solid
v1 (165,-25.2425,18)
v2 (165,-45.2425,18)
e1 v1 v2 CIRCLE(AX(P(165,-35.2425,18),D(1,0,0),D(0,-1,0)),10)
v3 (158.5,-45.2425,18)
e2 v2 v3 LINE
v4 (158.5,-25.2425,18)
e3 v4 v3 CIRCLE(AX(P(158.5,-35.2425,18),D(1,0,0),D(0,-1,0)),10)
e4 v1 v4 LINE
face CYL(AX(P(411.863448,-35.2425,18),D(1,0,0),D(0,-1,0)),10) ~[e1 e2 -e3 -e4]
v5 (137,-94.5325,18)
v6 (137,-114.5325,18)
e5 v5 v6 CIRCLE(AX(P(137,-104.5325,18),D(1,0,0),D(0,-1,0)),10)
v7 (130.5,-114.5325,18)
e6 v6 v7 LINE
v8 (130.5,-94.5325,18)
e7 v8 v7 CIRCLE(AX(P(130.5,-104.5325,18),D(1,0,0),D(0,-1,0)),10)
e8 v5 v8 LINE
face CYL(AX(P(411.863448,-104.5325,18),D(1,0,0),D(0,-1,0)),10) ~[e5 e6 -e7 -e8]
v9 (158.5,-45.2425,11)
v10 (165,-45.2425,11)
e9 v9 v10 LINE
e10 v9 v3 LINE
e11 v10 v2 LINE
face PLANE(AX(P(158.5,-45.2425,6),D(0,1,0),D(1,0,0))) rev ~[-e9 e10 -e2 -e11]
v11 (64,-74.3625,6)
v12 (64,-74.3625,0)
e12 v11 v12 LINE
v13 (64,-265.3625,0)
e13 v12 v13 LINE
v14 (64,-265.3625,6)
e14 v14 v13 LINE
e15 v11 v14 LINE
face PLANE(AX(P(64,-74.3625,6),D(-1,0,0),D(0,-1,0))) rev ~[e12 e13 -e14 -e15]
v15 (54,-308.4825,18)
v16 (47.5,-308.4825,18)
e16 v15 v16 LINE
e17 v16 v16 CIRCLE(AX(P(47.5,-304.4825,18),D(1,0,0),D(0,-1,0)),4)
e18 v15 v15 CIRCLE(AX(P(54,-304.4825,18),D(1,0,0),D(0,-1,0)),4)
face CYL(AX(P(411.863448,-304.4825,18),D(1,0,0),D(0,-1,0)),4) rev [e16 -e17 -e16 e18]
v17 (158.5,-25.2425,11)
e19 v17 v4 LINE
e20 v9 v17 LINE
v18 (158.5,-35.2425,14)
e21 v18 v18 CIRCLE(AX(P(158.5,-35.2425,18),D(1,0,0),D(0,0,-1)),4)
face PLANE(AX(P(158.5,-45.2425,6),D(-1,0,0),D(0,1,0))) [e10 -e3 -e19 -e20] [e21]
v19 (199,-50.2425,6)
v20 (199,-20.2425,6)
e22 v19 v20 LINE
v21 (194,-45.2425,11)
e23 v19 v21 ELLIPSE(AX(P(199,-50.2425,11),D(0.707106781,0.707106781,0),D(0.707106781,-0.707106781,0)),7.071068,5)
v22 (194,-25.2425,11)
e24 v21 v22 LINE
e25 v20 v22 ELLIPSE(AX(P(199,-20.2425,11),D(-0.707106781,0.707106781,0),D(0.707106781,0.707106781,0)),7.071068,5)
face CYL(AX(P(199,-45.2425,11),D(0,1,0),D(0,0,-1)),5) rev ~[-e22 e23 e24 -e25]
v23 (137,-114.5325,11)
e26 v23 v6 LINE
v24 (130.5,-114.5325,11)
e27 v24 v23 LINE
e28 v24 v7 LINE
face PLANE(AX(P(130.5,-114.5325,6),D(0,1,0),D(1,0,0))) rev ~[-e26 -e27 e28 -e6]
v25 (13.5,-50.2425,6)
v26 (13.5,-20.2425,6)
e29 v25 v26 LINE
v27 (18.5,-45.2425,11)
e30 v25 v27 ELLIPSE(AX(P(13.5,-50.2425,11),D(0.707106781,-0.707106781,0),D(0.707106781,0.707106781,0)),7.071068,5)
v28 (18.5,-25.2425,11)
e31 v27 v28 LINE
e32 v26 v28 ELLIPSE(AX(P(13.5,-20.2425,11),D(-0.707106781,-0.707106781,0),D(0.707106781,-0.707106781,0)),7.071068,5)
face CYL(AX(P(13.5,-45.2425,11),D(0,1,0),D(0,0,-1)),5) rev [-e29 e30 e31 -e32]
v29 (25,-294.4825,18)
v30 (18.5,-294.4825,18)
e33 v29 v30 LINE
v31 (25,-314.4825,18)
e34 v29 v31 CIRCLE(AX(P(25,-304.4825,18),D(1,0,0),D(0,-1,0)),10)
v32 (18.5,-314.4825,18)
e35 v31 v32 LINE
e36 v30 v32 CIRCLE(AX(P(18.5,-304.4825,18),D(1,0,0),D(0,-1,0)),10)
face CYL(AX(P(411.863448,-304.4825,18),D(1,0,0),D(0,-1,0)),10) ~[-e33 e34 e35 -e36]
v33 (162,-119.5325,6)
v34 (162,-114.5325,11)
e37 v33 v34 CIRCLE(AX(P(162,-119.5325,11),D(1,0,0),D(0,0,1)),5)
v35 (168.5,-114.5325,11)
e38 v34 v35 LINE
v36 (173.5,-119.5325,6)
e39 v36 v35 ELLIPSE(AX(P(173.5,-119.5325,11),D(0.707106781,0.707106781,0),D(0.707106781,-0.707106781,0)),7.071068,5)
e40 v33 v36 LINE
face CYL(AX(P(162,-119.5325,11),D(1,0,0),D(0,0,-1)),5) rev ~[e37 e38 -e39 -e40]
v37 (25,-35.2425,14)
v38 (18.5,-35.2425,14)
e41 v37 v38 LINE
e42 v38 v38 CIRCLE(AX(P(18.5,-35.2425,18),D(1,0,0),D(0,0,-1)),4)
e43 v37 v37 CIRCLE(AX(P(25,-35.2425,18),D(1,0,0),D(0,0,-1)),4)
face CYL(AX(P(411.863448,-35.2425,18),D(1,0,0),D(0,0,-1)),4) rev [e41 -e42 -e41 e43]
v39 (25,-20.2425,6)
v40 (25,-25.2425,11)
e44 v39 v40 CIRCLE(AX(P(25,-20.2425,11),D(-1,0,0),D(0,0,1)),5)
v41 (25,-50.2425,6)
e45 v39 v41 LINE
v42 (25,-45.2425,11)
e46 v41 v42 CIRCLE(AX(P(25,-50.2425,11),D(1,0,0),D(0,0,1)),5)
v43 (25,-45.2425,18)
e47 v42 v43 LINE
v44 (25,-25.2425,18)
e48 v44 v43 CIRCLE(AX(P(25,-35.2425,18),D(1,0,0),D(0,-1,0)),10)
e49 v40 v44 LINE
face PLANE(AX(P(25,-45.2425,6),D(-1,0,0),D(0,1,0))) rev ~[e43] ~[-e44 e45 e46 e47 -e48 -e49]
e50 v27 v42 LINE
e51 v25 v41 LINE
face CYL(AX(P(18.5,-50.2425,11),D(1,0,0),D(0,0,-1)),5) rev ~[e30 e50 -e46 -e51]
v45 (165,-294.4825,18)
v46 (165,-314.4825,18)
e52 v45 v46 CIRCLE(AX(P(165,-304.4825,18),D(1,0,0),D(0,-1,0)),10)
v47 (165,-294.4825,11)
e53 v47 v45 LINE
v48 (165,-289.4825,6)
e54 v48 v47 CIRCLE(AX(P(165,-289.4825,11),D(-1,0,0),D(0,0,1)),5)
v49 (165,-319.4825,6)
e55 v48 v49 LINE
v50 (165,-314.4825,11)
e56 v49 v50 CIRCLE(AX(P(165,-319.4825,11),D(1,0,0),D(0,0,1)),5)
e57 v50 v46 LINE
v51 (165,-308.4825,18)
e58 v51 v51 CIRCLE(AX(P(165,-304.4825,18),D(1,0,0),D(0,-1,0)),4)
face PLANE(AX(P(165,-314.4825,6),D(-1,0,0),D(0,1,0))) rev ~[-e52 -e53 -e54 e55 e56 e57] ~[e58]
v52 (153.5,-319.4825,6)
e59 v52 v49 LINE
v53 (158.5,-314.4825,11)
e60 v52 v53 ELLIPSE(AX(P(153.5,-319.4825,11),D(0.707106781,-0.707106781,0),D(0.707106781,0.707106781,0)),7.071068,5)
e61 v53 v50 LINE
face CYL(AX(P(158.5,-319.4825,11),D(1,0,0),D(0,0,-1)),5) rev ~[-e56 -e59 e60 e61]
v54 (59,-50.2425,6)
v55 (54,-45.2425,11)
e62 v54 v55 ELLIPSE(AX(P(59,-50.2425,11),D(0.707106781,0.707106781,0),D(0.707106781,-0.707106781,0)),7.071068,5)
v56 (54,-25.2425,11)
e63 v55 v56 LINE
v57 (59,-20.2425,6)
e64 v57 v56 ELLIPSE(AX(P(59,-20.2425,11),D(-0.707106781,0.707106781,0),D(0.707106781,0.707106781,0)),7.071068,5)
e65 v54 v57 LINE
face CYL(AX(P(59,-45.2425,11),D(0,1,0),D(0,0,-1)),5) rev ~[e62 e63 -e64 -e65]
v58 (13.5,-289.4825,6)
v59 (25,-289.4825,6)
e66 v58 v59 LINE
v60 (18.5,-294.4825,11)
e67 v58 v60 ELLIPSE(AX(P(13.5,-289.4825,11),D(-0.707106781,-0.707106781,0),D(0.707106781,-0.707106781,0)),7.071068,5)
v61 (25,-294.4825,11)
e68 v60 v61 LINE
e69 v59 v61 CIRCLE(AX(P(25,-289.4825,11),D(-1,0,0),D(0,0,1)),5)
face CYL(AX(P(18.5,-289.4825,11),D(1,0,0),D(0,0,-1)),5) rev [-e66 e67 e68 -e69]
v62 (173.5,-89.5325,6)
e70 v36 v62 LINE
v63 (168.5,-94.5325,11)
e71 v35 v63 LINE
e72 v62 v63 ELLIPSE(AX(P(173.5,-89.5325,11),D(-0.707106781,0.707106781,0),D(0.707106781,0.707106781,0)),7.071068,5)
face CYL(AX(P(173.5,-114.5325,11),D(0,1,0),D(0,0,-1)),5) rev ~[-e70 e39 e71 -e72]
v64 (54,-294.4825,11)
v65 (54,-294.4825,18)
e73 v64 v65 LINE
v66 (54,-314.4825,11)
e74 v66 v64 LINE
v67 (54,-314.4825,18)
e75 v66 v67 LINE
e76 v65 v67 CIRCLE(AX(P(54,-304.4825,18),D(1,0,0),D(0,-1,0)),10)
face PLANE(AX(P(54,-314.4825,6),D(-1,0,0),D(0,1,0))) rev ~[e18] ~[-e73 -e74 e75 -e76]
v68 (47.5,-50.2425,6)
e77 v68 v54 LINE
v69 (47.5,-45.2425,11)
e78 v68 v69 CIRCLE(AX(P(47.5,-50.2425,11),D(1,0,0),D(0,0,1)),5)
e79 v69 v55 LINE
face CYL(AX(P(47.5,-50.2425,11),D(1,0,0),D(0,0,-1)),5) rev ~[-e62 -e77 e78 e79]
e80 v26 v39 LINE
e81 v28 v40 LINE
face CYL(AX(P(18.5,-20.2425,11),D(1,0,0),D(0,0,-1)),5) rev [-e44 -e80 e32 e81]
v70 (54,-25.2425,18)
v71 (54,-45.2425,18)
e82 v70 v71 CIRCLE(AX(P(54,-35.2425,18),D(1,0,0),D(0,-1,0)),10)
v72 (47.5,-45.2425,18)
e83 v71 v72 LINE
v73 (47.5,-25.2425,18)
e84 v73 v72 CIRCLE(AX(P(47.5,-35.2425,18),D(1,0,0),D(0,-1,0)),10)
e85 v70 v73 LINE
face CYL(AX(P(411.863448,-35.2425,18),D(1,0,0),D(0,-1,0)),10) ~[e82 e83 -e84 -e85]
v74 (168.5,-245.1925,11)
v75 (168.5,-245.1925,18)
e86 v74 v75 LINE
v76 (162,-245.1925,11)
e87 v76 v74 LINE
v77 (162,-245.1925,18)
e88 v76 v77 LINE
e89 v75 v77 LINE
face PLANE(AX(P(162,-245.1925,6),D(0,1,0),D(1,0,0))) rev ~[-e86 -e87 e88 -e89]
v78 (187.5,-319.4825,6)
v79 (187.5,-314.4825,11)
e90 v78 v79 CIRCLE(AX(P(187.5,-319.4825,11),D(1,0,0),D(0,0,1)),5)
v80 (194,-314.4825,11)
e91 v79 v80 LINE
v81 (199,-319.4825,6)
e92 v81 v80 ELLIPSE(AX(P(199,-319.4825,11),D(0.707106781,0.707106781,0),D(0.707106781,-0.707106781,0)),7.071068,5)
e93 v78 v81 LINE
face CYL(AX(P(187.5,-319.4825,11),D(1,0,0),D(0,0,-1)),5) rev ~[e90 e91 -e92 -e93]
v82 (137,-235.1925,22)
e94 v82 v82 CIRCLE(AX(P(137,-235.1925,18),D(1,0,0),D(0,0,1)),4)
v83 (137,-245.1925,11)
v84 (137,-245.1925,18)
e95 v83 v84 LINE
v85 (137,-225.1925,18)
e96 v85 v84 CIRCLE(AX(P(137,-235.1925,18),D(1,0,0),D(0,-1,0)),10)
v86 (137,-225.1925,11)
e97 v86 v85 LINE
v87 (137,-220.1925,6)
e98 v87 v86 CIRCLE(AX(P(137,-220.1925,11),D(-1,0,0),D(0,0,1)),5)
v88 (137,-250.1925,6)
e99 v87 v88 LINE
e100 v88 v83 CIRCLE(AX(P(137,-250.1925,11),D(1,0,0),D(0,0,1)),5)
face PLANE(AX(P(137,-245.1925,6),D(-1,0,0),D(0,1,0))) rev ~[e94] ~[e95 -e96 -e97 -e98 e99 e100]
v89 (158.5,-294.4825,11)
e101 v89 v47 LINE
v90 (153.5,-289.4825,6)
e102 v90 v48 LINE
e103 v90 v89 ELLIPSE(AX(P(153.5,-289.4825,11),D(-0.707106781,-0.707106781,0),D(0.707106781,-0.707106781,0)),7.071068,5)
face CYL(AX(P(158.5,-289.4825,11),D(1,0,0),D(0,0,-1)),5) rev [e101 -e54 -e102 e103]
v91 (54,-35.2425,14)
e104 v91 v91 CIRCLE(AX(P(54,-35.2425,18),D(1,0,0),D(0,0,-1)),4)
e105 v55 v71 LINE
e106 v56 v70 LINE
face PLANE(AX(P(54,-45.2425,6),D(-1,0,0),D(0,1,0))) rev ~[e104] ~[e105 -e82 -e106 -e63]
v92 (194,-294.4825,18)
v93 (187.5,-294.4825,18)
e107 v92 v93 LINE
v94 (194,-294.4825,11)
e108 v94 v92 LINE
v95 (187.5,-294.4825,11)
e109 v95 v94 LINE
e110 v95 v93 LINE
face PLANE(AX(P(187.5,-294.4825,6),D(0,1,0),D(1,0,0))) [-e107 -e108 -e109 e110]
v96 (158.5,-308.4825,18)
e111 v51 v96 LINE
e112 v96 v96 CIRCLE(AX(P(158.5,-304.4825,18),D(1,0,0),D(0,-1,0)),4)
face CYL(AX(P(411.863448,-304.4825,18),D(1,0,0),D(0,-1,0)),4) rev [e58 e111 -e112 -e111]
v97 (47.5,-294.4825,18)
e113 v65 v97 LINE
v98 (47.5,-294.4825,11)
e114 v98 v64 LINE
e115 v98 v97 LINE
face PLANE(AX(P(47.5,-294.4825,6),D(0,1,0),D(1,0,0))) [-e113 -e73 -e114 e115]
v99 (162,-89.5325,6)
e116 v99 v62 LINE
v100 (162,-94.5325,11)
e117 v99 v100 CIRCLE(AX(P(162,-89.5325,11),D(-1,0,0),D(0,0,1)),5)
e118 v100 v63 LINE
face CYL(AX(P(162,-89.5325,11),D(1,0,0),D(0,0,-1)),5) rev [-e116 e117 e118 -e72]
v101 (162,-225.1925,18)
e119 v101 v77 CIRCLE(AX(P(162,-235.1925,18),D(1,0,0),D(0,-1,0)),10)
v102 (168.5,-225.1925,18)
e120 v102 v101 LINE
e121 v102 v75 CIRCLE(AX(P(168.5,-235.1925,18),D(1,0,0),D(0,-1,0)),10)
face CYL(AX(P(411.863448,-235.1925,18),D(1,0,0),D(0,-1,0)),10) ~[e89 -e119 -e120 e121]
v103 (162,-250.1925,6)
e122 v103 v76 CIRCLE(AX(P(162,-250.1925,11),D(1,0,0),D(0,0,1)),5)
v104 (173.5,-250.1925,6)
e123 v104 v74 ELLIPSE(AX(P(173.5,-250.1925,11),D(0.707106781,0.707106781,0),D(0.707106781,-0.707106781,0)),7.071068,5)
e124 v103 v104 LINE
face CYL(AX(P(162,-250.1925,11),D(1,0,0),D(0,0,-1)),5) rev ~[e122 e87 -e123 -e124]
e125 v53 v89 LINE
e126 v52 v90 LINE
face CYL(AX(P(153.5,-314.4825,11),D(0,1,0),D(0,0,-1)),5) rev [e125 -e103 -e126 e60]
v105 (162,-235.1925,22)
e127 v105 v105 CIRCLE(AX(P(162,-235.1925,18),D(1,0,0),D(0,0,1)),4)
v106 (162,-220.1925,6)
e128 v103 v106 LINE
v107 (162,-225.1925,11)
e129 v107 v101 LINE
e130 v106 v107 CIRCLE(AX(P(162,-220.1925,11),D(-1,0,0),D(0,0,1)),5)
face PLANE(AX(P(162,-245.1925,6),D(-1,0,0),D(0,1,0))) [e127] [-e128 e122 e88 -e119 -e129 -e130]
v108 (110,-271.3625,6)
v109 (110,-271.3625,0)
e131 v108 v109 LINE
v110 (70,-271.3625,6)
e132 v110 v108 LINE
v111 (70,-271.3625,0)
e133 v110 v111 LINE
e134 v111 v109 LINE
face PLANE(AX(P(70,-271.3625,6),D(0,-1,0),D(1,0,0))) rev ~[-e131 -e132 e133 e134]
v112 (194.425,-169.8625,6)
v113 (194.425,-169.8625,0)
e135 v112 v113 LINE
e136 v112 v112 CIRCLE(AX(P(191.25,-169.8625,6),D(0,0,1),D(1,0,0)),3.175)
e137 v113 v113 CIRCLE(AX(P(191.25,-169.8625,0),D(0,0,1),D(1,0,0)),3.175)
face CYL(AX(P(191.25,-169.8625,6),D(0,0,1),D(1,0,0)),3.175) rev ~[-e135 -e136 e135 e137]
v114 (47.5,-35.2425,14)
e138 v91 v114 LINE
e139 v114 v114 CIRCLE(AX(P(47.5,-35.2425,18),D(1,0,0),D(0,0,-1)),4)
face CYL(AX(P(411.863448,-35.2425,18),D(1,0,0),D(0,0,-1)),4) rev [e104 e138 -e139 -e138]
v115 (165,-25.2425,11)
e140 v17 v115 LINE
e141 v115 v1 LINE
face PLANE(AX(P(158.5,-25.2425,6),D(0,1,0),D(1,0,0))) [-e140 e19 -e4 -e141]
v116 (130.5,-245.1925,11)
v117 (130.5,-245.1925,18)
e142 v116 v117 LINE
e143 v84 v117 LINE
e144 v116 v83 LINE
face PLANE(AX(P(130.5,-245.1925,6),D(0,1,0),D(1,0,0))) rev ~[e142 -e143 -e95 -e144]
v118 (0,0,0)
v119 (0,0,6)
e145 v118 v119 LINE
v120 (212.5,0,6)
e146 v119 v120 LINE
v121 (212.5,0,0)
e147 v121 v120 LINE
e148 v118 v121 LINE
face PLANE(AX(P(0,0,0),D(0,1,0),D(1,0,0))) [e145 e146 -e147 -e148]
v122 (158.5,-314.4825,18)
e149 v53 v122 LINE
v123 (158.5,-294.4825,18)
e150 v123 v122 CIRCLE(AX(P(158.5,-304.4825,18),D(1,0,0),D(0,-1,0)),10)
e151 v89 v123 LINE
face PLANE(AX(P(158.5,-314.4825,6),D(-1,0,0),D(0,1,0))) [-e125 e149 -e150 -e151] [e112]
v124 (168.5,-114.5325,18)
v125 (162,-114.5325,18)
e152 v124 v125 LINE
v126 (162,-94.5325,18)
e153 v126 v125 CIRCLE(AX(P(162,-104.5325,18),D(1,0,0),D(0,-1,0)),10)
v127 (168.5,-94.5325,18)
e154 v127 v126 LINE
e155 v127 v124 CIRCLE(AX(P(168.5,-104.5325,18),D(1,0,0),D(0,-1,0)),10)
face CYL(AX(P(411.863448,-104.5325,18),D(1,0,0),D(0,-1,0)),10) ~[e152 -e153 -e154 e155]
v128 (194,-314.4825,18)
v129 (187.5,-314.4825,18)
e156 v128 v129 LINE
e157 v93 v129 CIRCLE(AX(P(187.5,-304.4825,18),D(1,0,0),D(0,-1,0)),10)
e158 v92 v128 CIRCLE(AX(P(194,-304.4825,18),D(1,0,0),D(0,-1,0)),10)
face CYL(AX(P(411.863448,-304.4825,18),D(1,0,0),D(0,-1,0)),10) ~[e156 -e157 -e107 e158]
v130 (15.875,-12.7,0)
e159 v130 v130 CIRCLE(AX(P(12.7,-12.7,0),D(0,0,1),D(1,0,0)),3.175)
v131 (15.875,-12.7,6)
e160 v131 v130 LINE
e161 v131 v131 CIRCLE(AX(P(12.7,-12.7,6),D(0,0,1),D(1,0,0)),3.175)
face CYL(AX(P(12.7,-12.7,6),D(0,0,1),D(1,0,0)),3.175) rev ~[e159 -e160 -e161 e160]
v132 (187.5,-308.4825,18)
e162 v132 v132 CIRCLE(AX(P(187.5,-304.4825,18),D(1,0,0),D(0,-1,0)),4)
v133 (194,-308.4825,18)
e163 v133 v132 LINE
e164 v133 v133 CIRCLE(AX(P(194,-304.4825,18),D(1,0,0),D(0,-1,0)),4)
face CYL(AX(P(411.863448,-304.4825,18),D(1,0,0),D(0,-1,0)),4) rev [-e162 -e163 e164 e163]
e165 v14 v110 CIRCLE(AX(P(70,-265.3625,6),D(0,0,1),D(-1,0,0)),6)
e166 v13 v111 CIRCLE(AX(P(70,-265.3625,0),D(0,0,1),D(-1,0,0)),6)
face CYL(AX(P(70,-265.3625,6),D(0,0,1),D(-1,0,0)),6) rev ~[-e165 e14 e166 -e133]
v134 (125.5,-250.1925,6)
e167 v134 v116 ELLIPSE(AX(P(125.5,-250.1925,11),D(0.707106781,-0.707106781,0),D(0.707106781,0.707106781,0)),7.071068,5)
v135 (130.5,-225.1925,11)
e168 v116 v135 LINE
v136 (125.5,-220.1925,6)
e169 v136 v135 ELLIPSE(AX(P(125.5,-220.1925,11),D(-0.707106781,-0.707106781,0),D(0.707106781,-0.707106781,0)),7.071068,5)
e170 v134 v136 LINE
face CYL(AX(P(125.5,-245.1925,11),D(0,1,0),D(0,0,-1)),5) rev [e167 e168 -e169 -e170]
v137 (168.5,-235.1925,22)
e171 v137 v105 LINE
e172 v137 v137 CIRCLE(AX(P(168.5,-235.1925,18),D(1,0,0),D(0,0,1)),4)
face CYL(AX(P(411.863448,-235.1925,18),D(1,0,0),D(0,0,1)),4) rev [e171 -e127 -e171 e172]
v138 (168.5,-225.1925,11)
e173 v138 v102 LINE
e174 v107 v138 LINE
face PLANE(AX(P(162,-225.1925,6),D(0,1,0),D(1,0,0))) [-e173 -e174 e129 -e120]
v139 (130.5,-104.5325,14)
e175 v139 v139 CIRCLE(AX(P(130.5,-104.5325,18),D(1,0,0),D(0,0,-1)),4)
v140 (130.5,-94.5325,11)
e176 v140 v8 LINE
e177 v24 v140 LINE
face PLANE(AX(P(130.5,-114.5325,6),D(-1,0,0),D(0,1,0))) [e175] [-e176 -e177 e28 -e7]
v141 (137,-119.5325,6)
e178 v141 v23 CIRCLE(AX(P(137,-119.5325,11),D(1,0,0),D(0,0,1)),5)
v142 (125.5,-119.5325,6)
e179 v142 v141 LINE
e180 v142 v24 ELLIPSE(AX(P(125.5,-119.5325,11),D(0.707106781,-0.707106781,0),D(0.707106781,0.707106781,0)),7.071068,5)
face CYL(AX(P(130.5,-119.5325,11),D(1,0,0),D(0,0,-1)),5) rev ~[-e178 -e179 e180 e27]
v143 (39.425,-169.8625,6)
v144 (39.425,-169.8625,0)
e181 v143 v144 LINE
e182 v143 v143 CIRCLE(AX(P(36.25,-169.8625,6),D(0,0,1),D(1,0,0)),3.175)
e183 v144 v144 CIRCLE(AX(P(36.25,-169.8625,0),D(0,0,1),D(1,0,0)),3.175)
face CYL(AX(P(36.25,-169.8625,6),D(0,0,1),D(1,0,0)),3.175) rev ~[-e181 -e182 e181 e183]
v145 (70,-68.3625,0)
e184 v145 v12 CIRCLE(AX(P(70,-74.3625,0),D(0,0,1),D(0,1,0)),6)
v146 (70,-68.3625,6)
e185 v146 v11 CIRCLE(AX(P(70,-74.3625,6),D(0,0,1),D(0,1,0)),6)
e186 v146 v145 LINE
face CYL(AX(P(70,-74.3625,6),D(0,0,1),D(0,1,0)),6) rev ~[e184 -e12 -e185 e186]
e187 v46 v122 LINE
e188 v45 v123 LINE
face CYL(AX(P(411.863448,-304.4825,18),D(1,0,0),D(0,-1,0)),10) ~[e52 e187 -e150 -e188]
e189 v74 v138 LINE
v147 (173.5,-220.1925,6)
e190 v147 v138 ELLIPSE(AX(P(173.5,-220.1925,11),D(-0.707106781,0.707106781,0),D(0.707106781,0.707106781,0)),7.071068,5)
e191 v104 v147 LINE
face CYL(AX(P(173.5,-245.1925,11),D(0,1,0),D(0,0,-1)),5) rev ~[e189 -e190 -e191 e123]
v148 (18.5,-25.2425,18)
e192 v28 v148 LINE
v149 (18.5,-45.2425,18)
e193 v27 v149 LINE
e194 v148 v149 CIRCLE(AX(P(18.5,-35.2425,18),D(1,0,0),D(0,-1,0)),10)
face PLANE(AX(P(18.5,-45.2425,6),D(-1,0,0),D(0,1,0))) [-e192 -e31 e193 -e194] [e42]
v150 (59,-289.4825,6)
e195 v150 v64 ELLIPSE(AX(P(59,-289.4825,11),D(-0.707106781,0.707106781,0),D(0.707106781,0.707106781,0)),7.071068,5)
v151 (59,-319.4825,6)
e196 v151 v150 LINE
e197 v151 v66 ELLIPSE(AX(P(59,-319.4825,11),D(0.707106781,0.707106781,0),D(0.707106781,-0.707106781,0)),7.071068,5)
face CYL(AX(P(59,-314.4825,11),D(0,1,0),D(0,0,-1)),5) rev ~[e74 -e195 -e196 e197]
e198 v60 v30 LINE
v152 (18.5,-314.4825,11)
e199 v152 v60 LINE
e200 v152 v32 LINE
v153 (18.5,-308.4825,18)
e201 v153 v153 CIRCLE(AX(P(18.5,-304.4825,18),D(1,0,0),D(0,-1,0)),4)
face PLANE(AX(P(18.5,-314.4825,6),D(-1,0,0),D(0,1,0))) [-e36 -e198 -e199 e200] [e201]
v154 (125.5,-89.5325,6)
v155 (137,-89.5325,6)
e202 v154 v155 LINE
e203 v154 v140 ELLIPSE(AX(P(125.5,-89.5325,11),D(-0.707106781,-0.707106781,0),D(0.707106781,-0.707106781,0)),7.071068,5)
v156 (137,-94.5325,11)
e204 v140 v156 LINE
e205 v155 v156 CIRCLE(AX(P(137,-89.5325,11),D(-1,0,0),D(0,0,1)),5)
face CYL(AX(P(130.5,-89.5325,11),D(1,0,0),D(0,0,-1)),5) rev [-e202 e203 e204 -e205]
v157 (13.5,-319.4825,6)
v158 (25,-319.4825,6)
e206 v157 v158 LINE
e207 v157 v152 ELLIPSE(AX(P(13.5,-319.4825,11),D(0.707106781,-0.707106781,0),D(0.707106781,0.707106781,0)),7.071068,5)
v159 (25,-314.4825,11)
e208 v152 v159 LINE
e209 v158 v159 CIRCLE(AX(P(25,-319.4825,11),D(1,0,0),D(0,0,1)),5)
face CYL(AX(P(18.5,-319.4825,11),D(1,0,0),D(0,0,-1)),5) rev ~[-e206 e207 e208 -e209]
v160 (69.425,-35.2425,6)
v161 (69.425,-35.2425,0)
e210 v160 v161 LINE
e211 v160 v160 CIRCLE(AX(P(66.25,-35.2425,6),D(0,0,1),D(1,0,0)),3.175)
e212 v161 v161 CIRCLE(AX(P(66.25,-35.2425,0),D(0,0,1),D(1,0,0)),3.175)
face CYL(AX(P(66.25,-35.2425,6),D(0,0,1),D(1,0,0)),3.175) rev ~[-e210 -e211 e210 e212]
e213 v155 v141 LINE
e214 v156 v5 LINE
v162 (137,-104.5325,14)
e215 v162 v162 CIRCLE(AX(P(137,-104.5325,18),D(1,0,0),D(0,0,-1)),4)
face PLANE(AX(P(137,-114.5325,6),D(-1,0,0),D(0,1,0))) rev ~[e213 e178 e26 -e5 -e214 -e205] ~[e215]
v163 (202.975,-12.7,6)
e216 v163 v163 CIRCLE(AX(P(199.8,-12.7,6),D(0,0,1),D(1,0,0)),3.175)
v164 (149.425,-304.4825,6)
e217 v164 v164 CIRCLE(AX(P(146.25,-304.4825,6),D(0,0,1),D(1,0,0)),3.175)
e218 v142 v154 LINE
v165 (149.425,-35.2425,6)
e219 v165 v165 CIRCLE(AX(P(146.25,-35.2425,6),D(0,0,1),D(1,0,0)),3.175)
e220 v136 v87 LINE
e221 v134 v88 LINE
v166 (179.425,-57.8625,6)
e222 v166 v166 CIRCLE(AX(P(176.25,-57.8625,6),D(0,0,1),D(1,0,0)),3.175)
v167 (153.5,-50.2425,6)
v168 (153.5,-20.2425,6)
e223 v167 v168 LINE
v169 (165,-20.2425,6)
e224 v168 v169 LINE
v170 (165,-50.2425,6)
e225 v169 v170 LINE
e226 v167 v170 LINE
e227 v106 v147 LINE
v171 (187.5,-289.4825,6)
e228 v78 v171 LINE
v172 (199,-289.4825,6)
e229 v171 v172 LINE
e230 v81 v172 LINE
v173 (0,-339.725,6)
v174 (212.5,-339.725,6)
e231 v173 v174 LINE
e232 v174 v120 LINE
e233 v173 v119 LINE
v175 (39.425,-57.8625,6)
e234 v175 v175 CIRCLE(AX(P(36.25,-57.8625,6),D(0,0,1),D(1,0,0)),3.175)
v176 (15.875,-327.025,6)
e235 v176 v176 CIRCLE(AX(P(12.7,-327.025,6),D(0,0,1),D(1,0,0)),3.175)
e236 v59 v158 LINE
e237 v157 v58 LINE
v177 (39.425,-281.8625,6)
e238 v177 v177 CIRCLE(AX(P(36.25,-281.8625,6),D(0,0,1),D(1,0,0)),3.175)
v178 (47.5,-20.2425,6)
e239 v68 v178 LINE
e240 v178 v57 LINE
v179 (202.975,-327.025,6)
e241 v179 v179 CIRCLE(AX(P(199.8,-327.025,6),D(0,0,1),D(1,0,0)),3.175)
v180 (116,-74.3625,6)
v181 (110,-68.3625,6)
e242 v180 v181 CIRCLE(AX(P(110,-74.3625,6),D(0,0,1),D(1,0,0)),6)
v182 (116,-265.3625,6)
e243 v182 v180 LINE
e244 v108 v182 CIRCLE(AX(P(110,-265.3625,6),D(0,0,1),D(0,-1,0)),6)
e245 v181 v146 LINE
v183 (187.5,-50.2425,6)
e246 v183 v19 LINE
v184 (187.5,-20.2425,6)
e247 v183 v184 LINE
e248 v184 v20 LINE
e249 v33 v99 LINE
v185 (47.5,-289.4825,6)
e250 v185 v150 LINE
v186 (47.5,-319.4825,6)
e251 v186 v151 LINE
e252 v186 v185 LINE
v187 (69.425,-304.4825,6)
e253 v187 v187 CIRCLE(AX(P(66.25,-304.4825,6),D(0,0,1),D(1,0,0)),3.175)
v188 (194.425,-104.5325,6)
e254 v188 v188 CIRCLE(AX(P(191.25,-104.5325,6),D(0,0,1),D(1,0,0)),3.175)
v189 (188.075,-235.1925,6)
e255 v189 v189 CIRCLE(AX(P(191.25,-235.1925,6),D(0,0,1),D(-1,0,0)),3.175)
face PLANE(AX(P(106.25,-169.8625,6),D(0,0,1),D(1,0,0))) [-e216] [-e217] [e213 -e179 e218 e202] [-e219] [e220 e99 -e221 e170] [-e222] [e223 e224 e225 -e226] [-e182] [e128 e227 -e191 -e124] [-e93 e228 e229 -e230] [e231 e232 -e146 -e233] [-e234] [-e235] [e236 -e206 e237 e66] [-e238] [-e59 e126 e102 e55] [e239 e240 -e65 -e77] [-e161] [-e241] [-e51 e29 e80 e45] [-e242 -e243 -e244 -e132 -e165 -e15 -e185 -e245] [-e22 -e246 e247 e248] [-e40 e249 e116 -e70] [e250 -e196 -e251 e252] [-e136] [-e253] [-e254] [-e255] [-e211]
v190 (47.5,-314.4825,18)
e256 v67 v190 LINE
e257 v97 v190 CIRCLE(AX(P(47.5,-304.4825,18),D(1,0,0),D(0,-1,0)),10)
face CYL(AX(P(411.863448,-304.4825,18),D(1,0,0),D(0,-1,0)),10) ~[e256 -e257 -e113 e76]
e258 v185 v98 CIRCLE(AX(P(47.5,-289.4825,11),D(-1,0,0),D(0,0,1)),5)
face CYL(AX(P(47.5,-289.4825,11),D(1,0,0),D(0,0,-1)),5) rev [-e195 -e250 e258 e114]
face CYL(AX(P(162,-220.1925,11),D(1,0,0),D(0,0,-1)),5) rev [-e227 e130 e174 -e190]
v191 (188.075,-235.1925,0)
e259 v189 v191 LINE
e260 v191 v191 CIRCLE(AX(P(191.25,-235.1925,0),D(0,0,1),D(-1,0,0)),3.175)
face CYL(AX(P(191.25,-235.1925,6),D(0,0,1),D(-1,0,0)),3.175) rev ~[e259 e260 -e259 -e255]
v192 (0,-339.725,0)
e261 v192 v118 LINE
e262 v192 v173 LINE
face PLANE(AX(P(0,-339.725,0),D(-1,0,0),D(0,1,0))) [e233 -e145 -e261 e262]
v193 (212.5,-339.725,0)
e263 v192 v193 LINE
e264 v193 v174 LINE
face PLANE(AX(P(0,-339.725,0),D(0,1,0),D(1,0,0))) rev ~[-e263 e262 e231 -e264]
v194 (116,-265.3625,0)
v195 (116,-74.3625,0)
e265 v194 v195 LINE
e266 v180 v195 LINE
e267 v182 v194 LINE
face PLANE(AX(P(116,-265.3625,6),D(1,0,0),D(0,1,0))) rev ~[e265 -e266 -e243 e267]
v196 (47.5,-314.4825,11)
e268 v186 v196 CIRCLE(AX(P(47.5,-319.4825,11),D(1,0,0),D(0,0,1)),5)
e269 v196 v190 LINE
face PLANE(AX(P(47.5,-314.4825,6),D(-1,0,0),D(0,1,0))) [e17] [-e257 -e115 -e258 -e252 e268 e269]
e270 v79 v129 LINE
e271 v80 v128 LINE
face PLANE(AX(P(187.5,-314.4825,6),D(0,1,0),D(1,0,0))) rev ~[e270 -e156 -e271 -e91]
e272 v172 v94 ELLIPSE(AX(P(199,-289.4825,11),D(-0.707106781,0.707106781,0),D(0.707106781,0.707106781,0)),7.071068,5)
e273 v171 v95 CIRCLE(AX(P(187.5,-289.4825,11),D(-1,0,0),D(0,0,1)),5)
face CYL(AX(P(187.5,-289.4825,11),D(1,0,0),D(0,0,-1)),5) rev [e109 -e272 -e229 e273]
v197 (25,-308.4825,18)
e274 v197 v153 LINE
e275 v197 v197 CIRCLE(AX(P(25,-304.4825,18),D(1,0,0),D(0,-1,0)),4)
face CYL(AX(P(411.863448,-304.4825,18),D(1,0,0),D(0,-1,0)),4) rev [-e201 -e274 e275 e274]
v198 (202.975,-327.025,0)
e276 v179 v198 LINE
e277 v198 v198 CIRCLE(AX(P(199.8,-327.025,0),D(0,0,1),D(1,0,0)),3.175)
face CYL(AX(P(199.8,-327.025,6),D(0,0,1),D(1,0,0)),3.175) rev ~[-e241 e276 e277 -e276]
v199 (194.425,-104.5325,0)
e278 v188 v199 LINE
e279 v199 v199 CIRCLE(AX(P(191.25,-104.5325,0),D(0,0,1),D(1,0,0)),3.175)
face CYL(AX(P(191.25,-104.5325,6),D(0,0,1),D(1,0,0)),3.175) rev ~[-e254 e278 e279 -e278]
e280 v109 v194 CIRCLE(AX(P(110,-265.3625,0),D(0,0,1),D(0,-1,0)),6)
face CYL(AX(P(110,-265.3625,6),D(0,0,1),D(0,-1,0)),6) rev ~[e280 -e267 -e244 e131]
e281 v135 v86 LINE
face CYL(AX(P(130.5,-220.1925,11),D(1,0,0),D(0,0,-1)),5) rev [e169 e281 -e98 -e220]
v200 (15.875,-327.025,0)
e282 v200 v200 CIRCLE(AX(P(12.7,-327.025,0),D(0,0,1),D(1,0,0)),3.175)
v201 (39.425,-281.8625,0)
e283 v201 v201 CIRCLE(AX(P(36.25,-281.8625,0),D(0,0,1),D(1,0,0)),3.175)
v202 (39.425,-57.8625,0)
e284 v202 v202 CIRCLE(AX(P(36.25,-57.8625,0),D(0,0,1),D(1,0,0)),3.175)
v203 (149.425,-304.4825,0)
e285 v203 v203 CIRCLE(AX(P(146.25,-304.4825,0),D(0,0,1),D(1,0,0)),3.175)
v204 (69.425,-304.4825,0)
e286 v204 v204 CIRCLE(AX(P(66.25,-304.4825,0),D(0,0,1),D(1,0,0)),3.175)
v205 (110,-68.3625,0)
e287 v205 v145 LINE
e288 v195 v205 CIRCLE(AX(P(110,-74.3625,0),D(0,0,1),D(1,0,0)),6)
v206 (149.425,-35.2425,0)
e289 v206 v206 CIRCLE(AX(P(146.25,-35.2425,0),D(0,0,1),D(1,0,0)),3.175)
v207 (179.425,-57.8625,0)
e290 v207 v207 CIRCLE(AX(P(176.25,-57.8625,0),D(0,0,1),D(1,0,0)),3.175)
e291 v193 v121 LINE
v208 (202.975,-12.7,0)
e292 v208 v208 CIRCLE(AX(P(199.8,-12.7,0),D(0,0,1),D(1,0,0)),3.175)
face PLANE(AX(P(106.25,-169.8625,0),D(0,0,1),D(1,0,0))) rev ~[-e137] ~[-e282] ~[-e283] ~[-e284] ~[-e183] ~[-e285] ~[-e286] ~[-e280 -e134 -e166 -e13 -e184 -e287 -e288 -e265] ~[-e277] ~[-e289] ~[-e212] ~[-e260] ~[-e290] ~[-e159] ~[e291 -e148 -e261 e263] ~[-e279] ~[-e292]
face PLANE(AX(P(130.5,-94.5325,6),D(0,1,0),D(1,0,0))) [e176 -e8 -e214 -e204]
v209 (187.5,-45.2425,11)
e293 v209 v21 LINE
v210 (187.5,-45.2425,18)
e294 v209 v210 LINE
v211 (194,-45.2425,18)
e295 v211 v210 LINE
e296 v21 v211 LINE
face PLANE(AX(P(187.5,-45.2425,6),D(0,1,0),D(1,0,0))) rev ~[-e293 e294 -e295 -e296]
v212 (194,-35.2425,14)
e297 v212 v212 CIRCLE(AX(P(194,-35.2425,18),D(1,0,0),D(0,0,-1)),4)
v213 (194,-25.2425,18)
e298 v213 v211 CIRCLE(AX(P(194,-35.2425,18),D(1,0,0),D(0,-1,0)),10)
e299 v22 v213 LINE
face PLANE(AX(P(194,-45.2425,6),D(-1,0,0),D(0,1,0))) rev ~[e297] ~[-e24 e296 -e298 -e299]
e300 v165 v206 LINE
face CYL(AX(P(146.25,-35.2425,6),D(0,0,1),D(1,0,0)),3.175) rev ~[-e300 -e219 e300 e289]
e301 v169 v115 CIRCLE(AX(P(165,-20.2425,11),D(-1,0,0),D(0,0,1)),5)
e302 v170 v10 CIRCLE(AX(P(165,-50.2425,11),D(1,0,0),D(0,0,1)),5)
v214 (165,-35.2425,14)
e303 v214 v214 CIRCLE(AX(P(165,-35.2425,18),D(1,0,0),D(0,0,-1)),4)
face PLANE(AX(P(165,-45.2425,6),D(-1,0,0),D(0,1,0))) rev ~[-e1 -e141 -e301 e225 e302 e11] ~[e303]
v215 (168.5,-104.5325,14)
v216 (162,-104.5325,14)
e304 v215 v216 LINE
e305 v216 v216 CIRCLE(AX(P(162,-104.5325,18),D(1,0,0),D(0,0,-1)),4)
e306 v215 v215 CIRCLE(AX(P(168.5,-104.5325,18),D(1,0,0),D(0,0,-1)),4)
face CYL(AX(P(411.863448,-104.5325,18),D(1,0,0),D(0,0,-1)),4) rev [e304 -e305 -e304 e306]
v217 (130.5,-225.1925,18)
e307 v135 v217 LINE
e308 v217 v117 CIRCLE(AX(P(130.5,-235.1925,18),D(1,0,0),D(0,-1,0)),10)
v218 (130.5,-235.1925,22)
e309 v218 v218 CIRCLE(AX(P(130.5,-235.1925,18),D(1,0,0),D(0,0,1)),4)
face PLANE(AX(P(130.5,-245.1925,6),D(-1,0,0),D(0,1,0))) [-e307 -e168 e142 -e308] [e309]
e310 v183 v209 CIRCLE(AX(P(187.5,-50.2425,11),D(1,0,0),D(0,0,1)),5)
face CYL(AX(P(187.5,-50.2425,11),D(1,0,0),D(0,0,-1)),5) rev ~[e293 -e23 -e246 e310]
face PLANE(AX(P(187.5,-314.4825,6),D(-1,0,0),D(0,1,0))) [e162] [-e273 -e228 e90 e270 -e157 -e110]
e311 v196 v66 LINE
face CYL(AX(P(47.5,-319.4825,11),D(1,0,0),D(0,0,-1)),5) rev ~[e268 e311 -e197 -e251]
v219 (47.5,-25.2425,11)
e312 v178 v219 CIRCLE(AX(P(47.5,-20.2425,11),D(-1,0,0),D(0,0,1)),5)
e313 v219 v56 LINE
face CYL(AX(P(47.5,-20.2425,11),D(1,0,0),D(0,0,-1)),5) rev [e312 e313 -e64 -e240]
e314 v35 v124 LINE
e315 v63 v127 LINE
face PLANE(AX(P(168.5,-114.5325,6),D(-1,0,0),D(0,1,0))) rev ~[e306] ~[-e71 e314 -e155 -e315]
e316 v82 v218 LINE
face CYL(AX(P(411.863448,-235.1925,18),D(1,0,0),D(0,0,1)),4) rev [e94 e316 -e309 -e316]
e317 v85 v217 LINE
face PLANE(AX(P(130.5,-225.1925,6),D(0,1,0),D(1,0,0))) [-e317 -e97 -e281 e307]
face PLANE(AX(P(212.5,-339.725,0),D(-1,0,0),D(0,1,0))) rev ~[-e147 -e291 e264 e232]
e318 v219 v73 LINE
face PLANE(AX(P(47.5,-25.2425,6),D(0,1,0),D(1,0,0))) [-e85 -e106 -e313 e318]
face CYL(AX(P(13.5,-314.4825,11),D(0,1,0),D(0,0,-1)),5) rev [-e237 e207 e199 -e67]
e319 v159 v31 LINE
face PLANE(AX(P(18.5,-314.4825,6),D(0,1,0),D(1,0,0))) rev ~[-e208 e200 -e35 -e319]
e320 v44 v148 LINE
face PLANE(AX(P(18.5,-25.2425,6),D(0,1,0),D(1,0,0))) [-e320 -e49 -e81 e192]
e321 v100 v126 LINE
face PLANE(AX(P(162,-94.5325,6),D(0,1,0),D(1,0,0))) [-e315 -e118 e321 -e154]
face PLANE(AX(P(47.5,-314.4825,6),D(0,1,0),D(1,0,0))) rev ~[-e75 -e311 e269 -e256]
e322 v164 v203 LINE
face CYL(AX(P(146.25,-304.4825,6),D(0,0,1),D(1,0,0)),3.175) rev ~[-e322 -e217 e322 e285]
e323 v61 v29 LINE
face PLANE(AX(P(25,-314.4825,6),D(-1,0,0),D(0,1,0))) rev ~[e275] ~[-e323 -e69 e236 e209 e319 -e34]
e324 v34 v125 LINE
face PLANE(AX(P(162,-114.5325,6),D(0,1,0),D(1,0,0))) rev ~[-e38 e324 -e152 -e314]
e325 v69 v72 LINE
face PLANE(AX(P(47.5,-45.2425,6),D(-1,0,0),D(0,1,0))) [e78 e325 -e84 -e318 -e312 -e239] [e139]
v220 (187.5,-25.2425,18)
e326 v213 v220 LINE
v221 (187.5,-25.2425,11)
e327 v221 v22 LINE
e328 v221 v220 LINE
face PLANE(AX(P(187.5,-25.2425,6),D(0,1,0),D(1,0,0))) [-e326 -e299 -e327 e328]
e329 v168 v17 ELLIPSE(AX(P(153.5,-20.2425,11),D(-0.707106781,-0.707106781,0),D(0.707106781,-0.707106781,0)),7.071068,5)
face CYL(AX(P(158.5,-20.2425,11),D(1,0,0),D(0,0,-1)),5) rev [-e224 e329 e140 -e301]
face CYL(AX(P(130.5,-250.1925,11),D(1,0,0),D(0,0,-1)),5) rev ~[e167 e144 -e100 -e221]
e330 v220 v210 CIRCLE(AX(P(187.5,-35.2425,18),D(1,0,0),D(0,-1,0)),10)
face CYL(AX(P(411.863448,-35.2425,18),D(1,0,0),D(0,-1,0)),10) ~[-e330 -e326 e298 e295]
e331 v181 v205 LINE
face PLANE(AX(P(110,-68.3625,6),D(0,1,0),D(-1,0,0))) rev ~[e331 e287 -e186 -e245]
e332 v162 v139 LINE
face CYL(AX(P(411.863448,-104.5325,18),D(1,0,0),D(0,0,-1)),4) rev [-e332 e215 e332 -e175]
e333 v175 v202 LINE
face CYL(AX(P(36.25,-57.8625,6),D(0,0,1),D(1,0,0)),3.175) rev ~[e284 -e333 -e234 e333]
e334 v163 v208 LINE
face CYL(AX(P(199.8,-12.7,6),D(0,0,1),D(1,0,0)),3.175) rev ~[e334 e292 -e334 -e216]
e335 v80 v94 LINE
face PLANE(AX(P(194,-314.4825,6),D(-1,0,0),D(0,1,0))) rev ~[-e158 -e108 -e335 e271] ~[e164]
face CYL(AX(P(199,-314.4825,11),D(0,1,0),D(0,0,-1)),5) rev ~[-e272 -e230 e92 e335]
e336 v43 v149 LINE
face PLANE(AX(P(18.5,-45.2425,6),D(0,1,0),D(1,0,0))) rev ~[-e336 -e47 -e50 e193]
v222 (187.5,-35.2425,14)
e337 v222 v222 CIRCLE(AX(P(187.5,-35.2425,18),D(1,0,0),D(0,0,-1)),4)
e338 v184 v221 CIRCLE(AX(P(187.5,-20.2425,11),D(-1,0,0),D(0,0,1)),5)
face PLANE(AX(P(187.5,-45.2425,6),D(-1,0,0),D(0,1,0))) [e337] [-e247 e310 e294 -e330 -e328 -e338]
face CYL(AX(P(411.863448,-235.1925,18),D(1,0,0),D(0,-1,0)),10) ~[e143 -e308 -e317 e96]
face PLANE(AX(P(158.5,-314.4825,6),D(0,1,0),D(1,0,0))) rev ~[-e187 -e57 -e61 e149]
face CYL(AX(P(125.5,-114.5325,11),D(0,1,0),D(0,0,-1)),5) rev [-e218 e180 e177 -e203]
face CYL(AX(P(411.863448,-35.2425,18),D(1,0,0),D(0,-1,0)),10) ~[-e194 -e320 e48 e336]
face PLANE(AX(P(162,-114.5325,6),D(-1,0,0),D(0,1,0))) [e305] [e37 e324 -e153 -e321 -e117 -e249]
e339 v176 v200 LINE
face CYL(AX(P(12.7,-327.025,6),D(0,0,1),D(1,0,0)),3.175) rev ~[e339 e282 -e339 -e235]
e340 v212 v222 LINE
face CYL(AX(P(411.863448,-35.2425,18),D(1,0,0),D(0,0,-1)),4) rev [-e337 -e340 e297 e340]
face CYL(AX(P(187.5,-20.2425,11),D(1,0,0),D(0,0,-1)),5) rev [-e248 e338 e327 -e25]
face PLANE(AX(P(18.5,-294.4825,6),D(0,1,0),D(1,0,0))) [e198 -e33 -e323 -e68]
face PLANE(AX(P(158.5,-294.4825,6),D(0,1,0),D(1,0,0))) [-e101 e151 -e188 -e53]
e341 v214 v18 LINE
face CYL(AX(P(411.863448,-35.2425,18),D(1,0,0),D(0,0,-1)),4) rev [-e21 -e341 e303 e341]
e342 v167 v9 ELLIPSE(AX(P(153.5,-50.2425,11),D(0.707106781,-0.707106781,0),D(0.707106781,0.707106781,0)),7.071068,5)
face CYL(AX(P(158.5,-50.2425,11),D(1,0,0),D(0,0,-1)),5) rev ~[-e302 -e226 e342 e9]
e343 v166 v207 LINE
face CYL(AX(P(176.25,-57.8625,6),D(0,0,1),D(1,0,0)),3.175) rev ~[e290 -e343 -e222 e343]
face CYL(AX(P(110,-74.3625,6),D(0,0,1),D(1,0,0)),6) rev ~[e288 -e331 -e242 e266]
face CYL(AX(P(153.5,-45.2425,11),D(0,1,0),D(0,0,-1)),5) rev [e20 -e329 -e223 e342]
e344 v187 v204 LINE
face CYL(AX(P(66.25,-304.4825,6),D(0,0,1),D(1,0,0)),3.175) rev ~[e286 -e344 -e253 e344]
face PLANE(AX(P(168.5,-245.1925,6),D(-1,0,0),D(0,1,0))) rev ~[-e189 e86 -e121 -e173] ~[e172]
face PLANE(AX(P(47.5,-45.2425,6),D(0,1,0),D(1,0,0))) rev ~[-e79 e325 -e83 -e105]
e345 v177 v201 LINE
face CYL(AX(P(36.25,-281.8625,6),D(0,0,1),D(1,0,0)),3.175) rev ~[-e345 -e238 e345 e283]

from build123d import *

# Parameters (mm, degrees)
SKETCH1_W               = 212.5
SKETCH1_H               = 339.725
BOSS_EXTRUDE1_DEPTH     = 6
SKETCH2_W               = 6.5
SKETCH2_H               = 20
BOSS_EXTRUDE2_DEPTH     = 24
CUT_EXTRUDE1_DEPTH      = 393.36344838
CUT_EXTRUDE1_DEPTH_BACK = 393.36344838
SKETCH3_R               = 4
FILLET2_R               = 5
SKETCH5_R               = 3.175
CUT_EXTRUDE2_DEPTH      = 402.314497153
CUT_EXTRUDE3_DEPTH      = 402.314497153


with BuildPart() as part:
    # Sketch1 → Boss-Extrude1 (new body)
    with BuildSketch(Plane.XY):
        with Locations((106.25, -169.8625)):
            Rectangle(SKETCH1_W, SKETCH1_H)
    extrude(amount=BOSS_EXTRUDE1_DEPTH)

    # Sketch2 → Boss-Extrude2 (add)
    with BuildSketch(Plane.XY.offset(6)):
        with Locations((21.75, -35.2425)):
            Rectangle(SKETCH2_W, SKETCH2_H)
        with Locations((50.75, -35.2425)):
            Rectangle(SKETCH2_W, SKETCH2_H)
        with Locations((161.75, -35.2425)):
            Rectangle(SKETCH2_W, SKETCH2_H)
        with Locations((190.75, -35.2425)):
            Rectangle(SKETCH2_W, SKETCH2_H)
        with Locations((133.75, -104.5325)):
            Rectangle(SKETCH2_W, SKETCH2_H)
        with Locations((165.25, -104.5325)):
            Rectangle(SKETCH2_W, SKETCH2_H)
        with Locations((165.25, -235.1925)):
            Rectangle(SKETCH2_W, SKETCH2_H)
        with Locations((21.75, -304.4825)):
            Rectangle(SKETCH2_W, SKETCH2_H)
        with Locations((50.75, -304.4825)):
            Rectangle(SKETCH2_W, SKETCH2_H)
        with Locations((190.75, -304.4825)):
            Rectangle(SKETCH2_W, SKETCH2_H)
        with Locations((161.75, -304.4825)):
            Rectangle(SKETCH2_W, SKETCH2_H)
        with Locations((133.75, -235.1925)):
            Rectangle(SKETCH2_W, SKETCH2_H)
    extrude(amount=BOSS_EXTRUDE2_DEPTH)

    # Sketch3 → Cut-Extrude1 (cut, two sides: drawn at the far end of the back side and taken through both)
    with BuildSketch(Plane.ZY.offset(-18.5).offset(-CUT_EXTRUDE1_DEPTH_BACK)):
        with Locations((18, -35.2425)):
            Circle(SKETCH3_R)
        with Locations((18, -235.1925)):
            Circle(SKETCH3_R)
        with Locations((18, -304.4825)):
            Circle(SKETCH3_R)
        with Locations((18, -104.5325)):
            Circle(SKETCH3_R)
        with BuildLine():
            Line((18, -25.2425), (18, -12.982943413))
            Line((18, -12.982943413), (51.949532367, -12.982943413))
            Line((51.949532367, -12.982943413), (51.949532367, -57.481006387))
            Line((51.949532367, -57.481006387), (18, -57.481006387))
            Line((18, -57.481006387), (18, -45.2425))
            ThreePointArc((18, -45.2425), (28, -35.2425), (18, -25.2425))
        make_face()
        with BuildLine():
            Line((52.442304634, -132.399123951), (18, -132.399123951))
            Line((18, -132.399123951), (18, -114.5325))
            ThreePointArc((18, -114.5325), (28, -104.5325), (18, -94.5325))
            Line((18, -94.5325), (18, -71.59149594))
            Line((18, -71.59149594), (52.442304634, -71.59149594))
            Line((52.442304634, -71.59149594), (52.442304634, -132.399123951))
        make_face()
        with BuildLine():
            Line((52.599532243, -270.375386727), (18, -270.375386727))
            Line((18, -270.375386727), (18, -245.1925))
            ThreePointArc((18, -245.1925), (28, -235.1925), (18, -225.1925))
            Line((18, -225.1925), (18, -207.306351849))
            Line((18, -207.306351849), (52.599532243, -207.306351849))
            Line((52.599532243, -207.306351849), (52.599532243, -270.375386727))
        make_face()
        with BuildLine():
            Line((52.621034016, -326.721115515), (18, -326.721115515))
            Line((18, -326.721115515), (18, -314.4825))
            ThreePointArc((18, -314.4825), (28, -304.4825), (18, -294.4825))
            Line((18, -294.4825), (18, -282.222834285))
            Line((18, -282.222834285), (52.621034016, -282.222834285))
            Line((52.621034016, -282.222834285), (52.621034016, -326.721115515))
        make_face()
    extrude(amount=CUT_EXTRUDE1_DEPTH + CUT_EXTRUDE1_DEPTH_BACK, mode=Mode.SUBTRACT)

    # Fillet2
    fillet2_edges = [part.edges().sort_by_distance(p)[0] for p in [
        (158.5, -304.4825, 6),
        (18.5, -304.4825, 6),
        (21.75, -45.2425, 6),
        (18.5, -35.2425, 6),
        (21.75, -25.2425, 6),
        (50.75, -25.2425, 6),
        (50.75, -45.2425, 6),
        (54, -35.2425, 6),
        (161.75, -25.2425, 6),
        (190.75, -25.2425, 6),
        (194, -35.2425, 6),
        (190.75, -45.2425, 6),
        (161.75, -45.2425, 6),
        (158.5, -35.2425, 6),
        (168.5, -104.5325, 6),
        (165.25, -114.5325, 6),
        (133.75, -114.5325, 6),
        (130.5, -104.5325, 6),
        (165.25, -94.5325, 6),
        (133.75, -94.5325, 6),
        (21.75, -294.4825, 6),
        (50.75, -294.4825, 6),
        (54, -304.4825, 6),
        (194, -304.4825, 6),
        (161.75, -294.4825, 6),
        (190.75, -294.4825, 6),
        (190.75, -314.4825, 6),
        (161.75, -314.4825, 6),
        (50.75, -314.4825, 6),
        (21.75, -314.4825, 6),
        (165.25, -225.1925, 6),
        (133.75, -225.1925, 6),
        (130.5, -235.1925, 6),
        (133.75, -245.1925, 6),
        (165.25, -245.1925, 6),
        (168.5, -235.1925, 6),
    ]]
    fillet(fillet2_edges, radius=FILLET2_R)

    # Sketch5 → Cut-Extrude2 (cut, through all)
    with BuildSketch(Plane.XY.offset(6)):
        with Locations((12.7, -12.7)):
            Circle(SKETCH5_R)
        with Locations((199.8, -12.7)):
            Circle(SKETCH5_R)
        with Locations((66.25, -35.2425)):
            Circle(SKETCH5_R)
        with Locations((146.25, -35.2425)):
            Circle(SKETCH5_R)
        with Locations((176.25, -57.8625)):
            Circle(SKETCH5_R)
        with Locations((36.25, -57.8625)):
            Circle(SKETCH5_R)
        with Locations((191.25, -104.5325)):
            Circle(SKETCH5_R)
        with Locations((36.25, -169.8625)):
            Circle(SKETCH5_R)
        with Locations((191.25, -169.8625)):
            Circle(SKETCH5_R)
        with Locations((36.25, -281.8625)):
            Circle(SKETCH5_R)
        with Locations((66.25, -304.4825)):
            Circle(SKETCH5_R)
        with Locations((12.7, -327.025)):
            Circle(SKETCH5_R)
        with Locations((199.8, -327.025)):
            Circle(SKETCH5_R)
        with Locations((146.25, -304.4825)):
            Circle(SKETCH5_R)
        with Locations((191.25, -235.1925)):
            Circle(SKETCH5_R)
    extrude(amount=-CUT_EXTRUDE2_DEPTH, mode=Mode.SUBTRACT)

    # Sketch9 → Cut-Extrude3 (cut, through all)
    with BuildSketch(Plane.XY.offset(6)):
        with BuildLine():
            ThreePointArc((64, -265.3625), (65.757359313, -269.605140687), (70, -271.3625))
            Line((70, -271.3625), (110, -271.3625))
            ThreePointArc((110, -271.3625), (114.242640687, -269.605140687), (116, -265.3625))
            Line((116, -265.3625), (116, -74.3625))
            ThreePointArc((116, -74.3625), (114.242640687, -70.119859313), (110, -68.3625))
            Line((110, -68.3625), (70, -68.3625))
            ThreePointArc((70, -68.3625), (65.757359313, -70.119859313), (64, -74.3625))
            Line((64, -74.3625), (64, -265.3625))
        make_face()
    extrude(amount=-CUT_EXTRUDE3_DEPTH, mode=Mode.SUBTRACT)


solid = part.part
